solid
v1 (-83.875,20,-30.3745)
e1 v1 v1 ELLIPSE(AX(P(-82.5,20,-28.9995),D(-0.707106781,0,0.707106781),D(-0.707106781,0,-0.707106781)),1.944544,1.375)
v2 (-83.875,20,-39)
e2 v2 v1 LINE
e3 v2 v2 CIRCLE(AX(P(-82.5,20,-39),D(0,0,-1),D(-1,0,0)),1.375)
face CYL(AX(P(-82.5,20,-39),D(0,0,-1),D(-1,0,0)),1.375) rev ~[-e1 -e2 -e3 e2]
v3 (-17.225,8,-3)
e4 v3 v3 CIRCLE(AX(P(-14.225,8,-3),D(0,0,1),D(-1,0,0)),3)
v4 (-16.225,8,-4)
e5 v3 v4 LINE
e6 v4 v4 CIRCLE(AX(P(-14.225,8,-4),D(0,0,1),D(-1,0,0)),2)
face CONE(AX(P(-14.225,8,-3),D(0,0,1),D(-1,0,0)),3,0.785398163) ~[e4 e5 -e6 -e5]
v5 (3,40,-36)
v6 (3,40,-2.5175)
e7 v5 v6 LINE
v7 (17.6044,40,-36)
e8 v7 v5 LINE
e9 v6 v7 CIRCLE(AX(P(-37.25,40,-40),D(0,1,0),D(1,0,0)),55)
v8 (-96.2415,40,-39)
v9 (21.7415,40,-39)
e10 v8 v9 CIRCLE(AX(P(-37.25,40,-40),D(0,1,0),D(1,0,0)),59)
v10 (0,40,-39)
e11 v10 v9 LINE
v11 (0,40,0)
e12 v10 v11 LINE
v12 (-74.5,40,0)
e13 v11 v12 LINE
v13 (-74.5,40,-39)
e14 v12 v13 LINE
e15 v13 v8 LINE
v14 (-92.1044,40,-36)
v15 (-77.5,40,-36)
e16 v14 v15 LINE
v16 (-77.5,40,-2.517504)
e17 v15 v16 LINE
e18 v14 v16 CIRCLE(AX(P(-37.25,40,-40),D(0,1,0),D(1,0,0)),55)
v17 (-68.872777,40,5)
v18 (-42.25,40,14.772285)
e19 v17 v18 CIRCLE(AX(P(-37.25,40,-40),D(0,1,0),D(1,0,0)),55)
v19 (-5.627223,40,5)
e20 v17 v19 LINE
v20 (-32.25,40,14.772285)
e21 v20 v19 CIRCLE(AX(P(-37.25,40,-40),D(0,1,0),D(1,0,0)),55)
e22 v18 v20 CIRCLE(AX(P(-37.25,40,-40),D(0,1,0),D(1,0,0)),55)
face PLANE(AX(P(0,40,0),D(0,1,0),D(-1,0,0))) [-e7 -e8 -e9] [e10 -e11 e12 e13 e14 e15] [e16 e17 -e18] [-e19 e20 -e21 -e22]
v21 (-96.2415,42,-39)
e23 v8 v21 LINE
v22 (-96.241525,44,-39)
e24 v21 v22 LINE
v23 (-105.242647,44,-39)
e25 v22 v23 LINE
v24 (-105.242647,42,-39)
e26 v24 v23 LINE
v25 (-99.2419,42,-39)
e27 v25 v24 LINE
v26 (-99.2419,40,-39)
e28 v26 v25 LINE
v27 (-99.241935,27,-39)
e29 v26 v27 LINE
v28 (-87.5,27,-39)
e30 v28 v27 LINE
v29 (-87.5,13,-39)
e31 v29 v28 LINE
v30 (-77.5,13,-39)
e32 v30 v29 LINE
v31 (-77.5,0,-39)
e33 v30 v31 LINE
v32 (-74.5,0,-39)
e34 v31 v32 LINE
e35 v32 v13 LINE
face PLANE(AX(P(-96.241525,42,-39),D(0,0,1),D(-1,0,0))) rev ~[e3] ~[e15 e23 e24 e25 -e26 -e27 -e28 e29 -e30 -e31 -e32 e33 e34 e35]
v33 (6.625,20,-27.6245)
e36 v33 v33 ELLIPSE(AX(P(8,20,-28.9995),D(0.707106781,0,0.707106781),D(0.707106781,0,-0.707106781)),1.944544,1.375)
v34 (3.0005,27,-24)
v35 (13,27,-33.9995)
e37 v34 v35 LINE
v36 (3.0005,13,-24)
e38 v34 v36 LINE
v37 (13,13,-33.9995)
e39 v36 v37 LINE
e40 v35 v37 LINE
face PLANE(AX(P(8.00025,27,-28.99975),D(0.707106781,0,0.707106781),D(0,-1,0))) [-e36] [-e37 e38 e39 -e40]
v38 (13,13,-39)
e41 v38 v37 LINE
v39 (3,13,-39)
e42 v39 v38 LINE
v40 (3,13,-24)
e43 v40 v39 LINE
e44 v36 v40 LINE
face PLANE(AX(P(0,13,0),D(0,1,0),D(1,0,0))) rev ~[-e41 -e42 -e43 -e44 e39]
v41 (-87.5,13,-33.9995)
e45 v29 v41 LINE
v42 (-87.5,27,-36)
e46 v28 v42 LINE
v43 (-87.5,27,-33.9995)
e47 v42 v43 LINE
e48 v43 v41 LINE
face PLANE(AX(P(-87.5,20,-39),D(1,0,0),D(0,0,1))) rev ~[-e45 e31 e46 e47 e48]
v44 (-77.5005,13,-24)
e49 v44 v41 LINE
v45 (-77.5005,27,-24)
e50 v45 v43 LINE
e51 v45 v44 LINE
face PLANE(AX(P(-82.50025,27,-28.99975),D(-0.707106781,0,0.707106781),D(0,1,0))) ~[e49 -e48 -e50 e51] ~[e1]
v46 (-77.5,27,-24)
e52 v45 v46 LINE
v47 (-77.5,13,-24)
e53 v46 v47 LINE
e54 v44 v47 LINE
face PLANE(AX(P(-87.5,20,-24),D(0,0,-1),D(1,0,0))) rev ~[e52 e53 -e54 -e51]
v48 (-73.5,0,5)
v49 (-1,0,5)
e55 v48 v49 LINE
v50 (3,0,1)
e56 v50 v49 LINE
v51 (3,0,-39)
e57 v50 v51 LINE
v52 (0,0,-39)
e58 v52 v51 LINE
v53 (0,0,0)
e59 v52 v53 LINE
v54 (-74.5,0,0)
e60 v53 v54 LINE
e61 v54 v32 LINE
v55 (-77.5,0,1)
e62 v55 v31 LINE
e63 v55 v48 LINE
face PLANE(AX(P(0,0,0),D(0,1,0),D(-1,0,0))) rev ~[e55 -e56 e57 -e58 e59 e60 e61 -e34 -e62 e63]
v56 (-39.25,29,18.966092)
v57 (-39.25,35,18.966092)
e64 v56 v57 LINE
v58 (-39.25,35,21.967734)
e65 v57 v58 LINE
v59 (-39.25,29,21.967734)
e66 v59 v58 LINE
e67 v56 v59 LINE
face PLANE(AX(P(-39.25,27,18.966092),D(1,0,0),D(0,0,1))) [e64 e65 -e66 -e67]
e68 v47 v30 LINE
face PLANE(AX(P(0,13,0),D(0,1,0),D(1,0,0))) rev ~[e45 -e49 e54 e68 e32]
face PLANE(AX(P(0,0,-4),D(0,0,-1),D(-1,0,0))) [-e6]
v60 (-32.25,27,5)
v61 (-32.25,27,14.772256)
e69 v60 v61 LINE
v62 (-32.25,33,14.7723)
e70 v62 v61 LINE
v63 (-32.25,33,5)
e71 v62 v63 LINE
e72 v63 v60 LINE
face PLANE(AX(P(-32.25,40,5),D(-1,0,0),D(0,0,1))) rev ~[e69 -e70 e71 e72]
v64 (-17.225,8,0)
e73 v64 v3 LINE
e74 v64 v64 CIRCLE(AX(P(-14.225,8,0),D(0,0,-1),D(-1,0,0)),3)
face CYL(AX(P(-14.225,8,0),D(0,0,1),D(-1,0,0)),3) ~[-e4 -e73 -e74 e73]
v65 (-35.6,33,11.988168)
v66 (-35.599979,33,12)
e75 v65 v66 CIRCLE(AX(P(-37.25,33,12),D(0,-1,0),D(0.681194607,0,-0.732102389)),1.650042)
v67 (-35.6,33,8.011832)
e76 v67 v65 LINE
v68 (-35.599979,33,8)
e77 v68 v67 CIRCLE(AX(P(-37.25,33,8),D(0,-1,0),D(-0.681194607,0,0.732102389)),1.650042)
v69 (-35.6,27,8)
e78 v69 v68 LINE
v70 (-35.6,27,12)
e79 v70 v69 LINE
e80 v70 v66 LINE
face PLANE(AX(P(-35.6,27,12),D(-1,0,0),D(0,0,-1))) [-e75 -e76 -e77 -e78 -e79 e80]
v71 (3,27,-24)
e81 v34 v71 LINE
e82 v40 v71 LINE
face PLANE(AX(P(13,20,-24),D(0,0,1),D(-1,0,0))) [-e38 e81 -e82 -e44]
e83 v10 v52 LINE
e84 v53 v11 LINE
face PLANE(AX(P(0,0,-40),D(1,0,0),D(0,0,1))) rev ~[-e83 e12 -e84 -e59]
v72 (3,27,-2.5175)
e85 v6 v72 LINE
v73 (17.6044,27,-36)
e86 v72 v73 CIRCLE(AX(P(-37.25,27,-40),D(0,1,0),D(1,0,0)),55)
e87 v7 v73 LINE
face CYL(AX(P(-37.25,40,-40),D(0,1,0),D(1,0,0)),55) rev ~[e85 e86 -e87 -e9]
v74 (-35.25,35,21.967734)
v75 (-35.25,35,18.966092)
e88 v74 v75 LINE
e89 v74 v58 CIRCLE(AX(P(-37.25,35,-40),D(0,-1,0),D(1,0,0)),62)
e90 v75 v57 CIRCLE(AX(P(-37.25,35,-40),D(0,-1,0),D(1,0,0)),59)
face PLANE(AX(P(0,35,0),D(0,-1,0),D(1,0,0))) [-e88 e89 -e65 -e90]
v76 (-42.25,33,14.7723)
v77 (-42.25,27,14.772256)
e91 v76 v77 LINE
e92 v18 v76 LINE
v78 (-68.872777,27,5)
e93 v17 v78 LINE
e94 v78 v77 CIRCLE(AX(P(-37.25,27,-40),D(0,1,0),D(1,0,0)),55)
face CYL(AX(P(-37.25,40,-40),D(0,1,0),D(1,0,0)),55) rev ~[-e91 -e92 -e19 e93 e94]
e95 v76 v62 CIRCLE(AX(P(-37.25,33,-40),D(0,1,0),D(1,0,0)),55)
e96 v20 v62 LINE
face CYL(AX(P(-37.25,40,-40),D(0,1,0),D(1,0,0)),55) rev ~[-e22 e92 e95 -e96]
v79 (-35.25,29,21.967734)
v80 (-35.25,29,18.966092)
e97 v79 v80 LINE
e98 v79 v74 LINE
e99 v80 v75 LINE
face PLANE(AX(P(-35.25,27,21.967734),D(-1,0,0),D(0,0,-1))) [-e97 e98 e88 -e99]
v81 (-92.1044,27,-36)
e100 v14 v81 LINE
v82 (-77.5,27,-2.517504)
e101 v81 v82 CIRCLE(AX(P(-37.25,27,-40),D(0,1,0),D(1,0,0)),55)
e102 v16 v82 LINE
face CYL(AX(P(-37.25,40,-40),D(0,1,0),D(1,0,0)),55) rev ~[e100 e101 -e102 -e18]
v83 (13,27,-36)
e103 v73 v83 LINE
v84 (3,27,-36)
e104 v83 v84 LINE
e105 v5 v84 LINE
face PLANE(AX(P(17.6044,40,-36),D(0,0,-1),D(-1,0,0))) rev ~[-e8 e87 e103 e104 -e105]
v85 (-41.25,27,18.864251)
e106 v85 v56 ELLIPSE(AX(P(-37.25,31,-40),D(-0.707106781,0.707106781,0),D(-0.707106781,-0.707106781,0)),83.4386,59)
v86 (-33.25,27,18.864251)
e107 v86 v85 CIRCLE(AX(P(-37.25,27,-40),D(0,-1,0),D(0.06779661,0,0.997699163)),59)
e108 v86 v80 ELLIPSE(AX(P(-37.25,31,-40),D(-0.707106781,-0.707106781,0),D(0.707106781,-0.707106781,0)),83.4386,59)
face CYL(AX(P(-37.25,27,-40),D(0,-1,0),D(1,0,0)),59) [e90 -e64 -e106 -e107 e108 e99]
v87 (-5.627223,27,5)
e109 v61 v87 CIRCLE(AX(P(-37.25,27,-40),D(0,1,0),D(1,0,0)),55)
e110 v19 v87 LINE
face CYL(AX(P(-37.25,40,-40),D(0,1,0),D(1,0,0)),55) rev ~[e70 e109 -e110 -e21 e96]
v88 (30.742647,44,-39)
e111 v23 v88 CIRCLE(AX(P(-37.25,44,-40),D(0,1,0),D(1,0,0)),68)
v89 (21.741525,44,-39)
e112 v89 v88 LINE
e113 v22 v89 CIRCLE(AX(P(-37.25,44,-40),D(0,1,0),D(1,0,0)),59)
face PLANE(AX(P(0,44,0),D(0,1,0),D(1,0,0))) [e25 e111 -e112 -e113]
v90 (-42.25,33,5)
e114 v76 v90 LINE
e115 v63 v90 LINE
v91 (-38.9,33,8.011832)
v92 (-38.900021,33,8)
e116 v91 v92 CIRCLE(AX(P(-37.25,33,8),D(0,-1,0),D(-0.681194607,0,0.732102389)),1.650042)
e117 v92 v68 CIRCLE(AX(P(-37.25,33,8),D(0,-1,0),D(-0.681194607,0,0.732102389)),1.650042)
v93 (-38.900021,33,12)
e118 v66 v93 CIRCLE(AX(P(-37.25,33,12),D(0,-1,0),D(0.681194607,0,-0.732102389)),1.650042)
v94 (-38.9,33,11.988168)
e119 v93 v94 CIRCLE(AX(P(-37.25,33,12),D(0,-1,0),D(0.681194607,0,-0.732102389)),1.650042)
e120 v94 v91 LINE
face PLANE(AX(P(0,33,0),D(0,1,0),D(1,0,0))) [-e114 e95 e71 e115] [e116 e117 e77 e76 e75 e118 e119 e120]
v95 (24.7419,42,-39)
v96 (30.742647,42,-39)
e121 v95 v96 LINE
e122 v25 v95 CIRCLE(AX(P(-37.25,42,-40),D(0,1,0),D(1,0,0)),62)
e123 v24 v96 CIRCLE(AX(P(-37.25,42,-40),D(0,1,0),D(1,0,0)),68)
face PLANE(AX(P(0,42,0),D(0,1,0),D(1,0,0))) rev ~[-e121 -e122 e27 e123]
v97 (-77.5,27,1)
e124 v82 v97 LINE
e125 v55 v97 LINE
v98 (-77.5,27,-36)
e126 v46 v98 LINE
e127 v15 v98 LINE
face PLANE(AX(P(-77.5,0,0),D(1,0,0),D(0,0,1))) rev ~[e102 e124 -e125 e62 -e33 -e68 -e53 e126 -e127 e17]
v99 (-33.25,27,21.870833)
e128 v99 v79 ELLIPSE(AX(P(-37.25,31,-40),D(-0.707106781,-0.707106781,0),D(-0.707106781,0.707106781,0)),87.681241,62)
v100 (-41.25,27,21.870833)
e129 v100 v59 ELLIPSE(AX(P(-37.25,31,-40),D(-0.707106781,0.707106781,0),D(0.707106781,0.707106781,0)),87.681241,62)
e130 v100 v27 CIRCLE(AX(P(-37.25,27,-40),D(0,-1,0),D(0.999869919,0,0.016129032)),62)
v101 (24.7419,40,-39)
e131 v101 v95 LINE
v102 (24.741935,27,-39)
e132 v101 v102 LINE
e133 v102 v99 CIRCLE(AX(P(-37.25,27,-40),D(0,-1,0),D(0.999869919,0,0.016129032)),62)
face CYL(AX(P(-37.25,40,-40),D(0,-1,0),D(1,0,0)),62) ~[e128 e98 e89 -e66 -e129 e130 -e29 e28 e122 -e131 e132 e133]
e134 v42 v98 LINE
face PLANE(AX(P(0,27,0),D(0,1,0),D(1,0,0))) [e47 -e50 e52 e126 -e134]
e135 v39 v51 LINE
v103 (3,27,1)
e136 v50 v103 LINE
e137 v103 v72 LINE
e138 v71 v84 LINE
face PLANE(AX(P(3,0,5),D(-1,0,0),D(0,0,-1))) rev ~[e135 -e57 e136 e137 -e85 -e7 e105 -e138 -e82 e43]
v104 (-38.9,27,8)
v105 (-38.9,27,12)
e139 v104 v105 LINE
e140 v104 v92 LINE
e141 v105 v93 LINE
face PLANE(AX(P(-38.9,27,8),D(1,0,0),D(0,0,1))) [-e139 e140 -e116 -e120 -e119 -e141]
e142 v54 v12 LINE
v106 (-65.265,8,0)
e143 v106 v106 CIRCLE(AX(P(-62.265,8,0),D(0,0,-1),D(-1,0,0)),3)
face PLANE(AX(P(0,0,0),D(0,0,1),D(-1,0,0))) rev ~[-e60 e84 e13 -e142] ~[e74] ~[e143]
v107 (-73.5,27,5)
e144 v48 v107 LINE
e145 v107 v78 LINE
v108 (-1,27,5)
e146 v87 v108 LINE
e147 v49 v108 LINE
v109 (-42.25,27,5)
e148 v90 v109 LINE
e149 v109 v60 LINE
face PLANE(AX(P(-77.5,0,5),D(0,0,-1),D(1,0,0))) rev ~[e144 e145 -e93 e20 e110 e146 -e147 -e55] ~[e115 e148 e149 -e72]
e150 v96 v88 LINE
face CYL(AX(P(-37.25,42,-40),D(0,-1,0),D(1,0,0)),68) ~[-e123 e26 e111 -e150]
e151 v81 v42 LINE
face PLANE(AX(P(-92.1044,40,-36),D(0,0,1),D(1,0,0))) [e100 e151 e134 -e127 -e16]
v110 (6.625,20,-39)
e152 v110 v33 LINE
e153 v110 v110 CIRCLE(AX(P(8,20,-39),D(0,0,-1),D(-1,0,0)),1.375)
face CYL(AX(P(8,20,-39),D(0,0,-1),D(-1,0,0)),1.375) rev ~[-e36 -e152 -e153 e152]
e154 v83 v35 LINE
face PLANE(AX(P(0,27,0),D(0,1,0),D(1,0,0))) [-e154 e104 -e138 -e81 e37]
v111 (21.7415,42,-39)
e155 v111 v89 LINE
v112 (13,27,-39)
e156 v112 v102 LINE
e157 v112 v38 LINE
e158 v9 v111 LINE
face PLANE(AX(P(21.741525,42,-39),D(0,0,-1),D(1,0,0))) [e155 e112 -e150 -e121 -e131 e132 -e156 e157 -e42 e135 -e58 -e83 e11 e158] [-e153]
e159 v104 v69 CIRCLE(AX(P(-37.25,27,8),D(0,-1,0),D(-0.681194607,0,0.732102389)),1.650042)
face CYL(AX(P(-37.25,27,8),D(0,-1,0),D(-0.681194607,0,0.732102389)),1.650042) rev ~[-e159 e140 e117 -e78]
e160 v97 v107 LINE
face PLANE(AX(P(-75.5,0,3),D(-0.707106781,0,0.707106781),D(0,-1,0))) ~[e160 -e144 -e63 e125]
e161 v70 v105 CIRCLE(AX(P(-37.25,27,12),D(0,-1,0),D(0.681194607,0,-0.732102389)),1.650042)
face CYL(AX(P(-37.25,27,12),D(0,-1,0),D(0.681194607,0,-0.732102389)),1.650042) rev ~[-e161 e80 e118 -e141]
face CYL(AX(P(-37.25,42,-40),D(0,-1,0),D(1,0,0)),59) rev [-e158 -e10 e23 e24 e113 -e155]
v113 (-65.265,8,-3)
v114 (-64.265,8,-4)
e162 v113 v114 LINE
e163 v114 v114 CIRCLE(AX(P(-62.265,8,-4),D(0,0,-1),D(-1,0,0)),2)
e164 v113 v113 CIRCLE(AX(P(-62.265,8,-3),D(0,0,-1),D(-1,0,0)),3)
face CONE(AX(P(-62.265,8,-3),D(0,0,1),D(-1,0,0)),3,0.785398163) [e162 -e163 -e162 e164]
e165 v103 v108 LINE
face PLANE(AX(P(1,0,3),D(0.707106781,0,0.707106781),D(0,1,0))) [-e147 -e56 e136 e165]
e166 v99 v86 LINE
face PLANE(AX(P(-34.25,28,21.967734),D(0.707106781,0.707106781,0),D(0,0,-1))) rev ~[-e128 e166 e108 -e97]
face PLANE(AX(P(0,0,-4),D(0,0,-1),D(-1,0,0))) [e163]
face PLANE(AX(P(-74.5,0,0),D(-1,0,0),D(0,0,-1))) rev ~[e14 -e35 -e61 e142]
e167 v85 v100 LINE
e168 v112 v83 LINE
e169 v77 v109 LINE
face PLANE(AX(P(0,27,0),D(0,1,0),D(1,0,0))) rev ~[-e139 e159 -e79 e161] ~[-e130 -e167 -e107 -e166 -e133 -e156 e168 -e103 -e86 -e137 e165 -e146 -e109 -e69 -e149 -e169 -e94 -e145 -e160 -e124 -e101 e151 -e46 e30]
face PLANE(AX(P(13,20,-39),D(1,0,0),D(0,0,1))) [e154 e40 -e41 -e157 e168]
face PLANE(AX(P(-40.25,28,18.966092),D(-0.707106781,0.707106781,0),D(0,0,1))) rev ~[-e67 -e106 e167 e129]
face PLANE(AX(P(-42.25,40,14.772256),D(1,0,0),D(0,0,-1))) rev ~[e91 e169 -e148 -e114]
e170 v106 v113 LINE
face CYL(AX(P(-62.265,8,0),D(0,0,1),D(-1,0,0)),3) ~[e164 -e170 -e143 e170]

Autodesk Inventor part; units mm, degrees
ref_plane "YZ Plane" through (0, 0, 0) normal (1, 0, 0) x (0, 1, 0)
ref_plane "XZ Plane" through (0, 0, 0) normal (0, 1, 0) x (-1, 0, 0)
sketch "Sketch1" plane through (0, 0, 0) normal (0, 1, 0) x (-1, 0, 0)
  line L0 (0, 0) -> (74.5, 0)
  line L1 (74.5, 0) -> (74.5, -40)
  line L2 (74.5, -40) -> (0, -40)
  line L3 (0, -40) -> (0, 0)
  line L4 (74.5, -40) -> (77.5, -40)
  line L5 (77.5, -40) -> (77.5, 0)
  line L6 (77.5, 0) -> (74.5, 0)
  line L7 (74.5, 0) -> (74.5, -40)
  line L8 (0, -40) -> (-3, -40)
  line L9 (-3, -40) -> (-3, 0)
  line L10 (-3, 0) -> (0, 0)
  line L11 (0, 0) -> (0, -40)
  line L12 (-3, 0) -> (77.5, 0)
  line L13 (77.5, 0) -> (77.5, 5)
  line L14 (77.5, 5) -> (-3, 5)
  line L15 (-3, 5) -> (-3, 0)
  dimension "d0" = 74.5
  dimension "d1" = 40
  dimension "d2" = 3
  dimension "d3" = 3
  dimension "d4" = 40
  dimension "d5" = 80.5
  dimension "d6" = 5
extrude "Extrusion1" add sketch "Sketch1" along normal blind 40 contours L10 L15 L14 L13 L6 L0 | L3 L8 L9 L10 | L6 L5 L4 L1
sketch "Sketch3" plane through (0, 0, 0) normal (0, 0, -1) x (-1, 0, 0)
  line L0 (0, 0) -> (14.225, 0)
  line L1 (0, 0) -> (74.5, 0) projected
  line L2 (14.225, 0) -> (14.225, 8)
  circle A0 centre (14.225, 8) radius 3
  line L3 (37.25, 0) -> (37.25, 20.4526)
  line L4 (74.5, 0) -> (74.5, 40) projected
  line L5 (74.5, 0) -> (74.5, 8)
  line L6 (74.5, 8) -> (62.265, 8)
  line L7 (74.5, 8) -> (86.735, 8) construction
  circle A1 centre (62.265, 8) radius 3
  dimension "d9" = 14.225
  dimension "d10" = 8
  dimension "d11" = 6
  dimension "d12" = 8
  dimension "d13" = 12.235
  dimension "d14" = 180
  dimension "d15" = 6
extrude "Extrusion2" add sketch "Sketch3" along normal blind 4
chamfer "Chamfer1" distance 1 angle 45 2 edges at (-11.225, 8, -4) (-59.265, 8, -4)
sketch "Sketch4" plane through (0, 40, 0) normal (0, 1, 0) x (1, 0, 0)
  line L0 (3, -5) -> (3, 40) projected
  line L1 (-77.5, 40) -> (-77.5, -5) projected
  line L2 (3, 40) -> (-77.5, 40)
  line L3 (-77.5, 40) -> (-77.5, 39)
  line L4 (-77.5, 39) -> (3, 39)
  line L5 (3, 39) -> (3, 40)
  point P0 (0, 0)
  dimension "d21" = 1
extrude "Extrusion3" cut sketch "Sketch4" against normal blind 40
ref_plane "Work Plane1" through (0, 20, 0) normal (0, 1, 0) x (1, 0, 0)
sketch "Sketch6" plane through (0, 20, 0) normal (0, 1, 0) x (1, 0, 0)
  line L0 (0, 39) -> (3, 39) projected
  line L1 (3, 39) -> (13, 39)
  line L2 (13, 39) -> (13, 24)
  line L3 (13, 24) -> (3, 24)
  line L4 (3, 24) -> (3, 39)
  line L5 (0, 0) -> (-74.5, 0) projected
  line L6 (-37.25, 0) -> (-37.25, 6.791)
  line L7 (-74.5, 39) -> (-77.5, 39)
  line L8 (-77.5, 39) -> (-87.5, 39)
  line L9 (-87.5, 39) -> (-87.5, 24)
  line L10 (-87.5, 24) -> (-77.5, 24)
  line L11 (-77.5, 24) -> (-77.5, 39)
  dimension "d24" = 10
  dimension "d25" = 15
extrude "Extrusion4" add sketch "Sketch6" along normal mid plane 14
chamfer "Chamfer2" distance 10 angle 45 1 edges at (-87.5, 20, -24)
chamfer "Chamfer3" distance 10 angle 45 1 edges at (13, 20, -24)
sketch "Sketch7" plane through (-74.5, 40, -39) normal (0, 0, -1) x (-1, 0, 0)
  line L0 (13, -27) -> (13, -13) projected
  line L1 (3, -13) -> (13, -13) projected
  line L2 (13, -13) -> (3, -13)
  line L3 (13, -13) -> (13, -27)
  line L4 (13, -20) -> (8, -20)
  circle A0 centre (8, -20) radius 1.375
  line L5 (-74.5, 0) -> (0, 0) projected
  line L6 (-37.25, 0) -> (-37.25, -5.3996)
  circle A1 centre (-82.5, -20) radius 1.375
  point P0 (-74.5, -40)
  dimension "d34" = 5
  dimension "d35" = 2.75
extrude "Extrusion5" cut sketch "Sketch7" against normal blind 14
sketch "Sketch9" plane through (0, 40, 0) normal (0, 1, 0) x (1, 0, 0)
  line L0 (-77.5, 39) -> (-77.5, -5) projected
  line L1 (13, 39) -> (3, 39) projected
  line L2 (-77.5, -5) -> (3, -5)
  line L3 (3, 39) -> (-77.5, 39)
  line L4 (-77.5, 39) -> (-77.5, -5)
  line L5 (-37.25, 39) -> (-37.25, 40)
  line L6 (-37.25, 39) -> (-36.25, 39) construction
  circle A0 centre (-37.25, 40) radius 62
  circle A1 centre (-37.25, 40) radius 55
  line L7 (-37.25, 40) -> (-42.25, 40)
  line L8 (-42.25, 40) -> (-32.25, 40)
  line L9 (-32.25, 40) -> (-32.25, -25)
  line L10 (-32.25, -25) -> (-42.25, -25)
  line L11 (-42.25, -25) -> (-42.25, 40)
  line L12 (-37.25, 39) -> (-127.25, 39)
  line L13 (-37.25, 39) -> (52.75, 39) construction
  line L14 (-127.25, 39) -> (47.7384, 39)
  line L15 (-77.5, 39) -> (-77.5, 24) projected
  line L16 (-77.5, 39) -> (-93.5, 39)
  line L17 (-93.5, 39) -> (-93.5, 36)
  line L18 (-92.1044, 36) -> (-77.5, 36)
  line L19 (-77.5, 36) -> (-77.5, 39)
  line L20 (3, -5) -> (3, 39) projected
  line L21 (3, 39) -> (19, 39)
  line L22 (19, 39) -> (19, 36)
  line L23 (17.6044, 36) -> (3, 36)
  line L24 (3, 36) -> (3, 39)
  line L25 (3, 39) -> (19, 39)
  line L26 (19, 39) -> (19, 36)
  line L27 (17.6044, 36) -> (3, 36)
  line L28 (3, 36) -> (3, 39)
  line L29 (3, -5) -> (3, 2.5175)
  line L30 (3, 36) -> (3, 39)
  point P0 (0, 0)
  point P1 (3, 2.5175)
  point P2 (-5.6272, -5)
  point P3 (-32.25, -14.7723)
  point P4 (-32.25, -5)
  point P5 (-42.25, -5)
  point P6 (-42.25, -14.7723)
  point P7 (-68.8728, -5)
  point P8 (-77.5, 2.5175)
  point P9 (-99.2419, 39)
  point P10 (24.7419, 39)
  dimension "d38" = 1
  dimension "d39" = 90
  dimension "d40" = 124
  dimension "d41" = 110
  dimension "d42" = 5
  dimension "d43" = 10
  dimension "d44" = 65
  dimension "d45" = 90
  dimension "d46" = 180
  dimension "d47" = 16
  dimension "d48" = 3
  dimension "d49" = 16
  dimension "d50" = 3
extrude "Extrusion6" add sketch "Sketch9" against normal blind 13 contours L0 L18 A1 L12 | A1 L0 L2 L11 A0 L12 | L2 L9 A1 L11 | A1 L9 A0 L11 | L14 A0 L9 A1 L2 L20 | A1 L23 L20 L1 L14
sketch "Sketch10" plane through (0, 40, 0) normal (0, 1, 0) x (1, 0, 0)
  arc A0 (-99.2419, 39) -> (24.7419, 39) centre (-37.25, 40) ccw projected
  line L0 (-37.25, -22) -> (-37.25, -10)
  circle A1 centre (-37.25, -10) radius 1.375
  point P0 (0, 0)
  dimension "d53" = 12
  dimension "d54" = 2.75
extrude "Extrusion7" cut sketch "Sketch10" against normal blind 13
sketch "Sketch11" plane through (0, 27, 0) normal (0, -1, 0) x (1, 0, 0)
  circle A0 centre (-37.25, 10) radius 1.375 projected
  line L0 (-37.25, 10) -> (-37.25, 12)
  line L1 (-37.25, 12) -> (-37.25, 8)
  arc A1 (-38.374, 9.208) -> (-36.126, 9.208) centre (-37.25, 8) ccw
  arc A2 (-36.126, 10.792) -> (-38.374, 10.792) centre (-37.25, 12) ccw
  line L2 (-38.9, 12) -> (-38.9, 8)
  line L3 (-35.6, 8) -> (-35.6, 12)
  point P0 (0, 0)
  point P1 (-38.625, 10.25)
  point P2 (-35.875, 10.25)
  dimension "d57" = 2
  dimension "d58" = 4
  dimension "d59" = 3.3
  dimension "d60" = 3.3
extrude "Extrusion8" cut sketch "Sketch11" against normal blind 13 contours A0 A2 | A1 A0
sketch "Sketch12" plane through (0, 27, 0) normal (0, -1, 0) x (1, 0, 0)
  point P0 (0, 0)
sketch "Sketch13" plane through (0, 40, 0) normal (0, 1, 0) x (1, 0, 0)
  arc A0 (-99.2419, 39) -> (24.7419, 39) centre (-37.25, 40) ccw projected
  circle A1 centre (-37.25, 40) radius 62.25
  line L0 (-42.25, -14.7723) -> (-42.25, -5) projected
  circle A2 centre (-37.25, 40) radius 55
  line L1 (-32.25, -5) -> (-42.25, -5) projected
  line L2 (-32.25, -14.7723) -> (-32.25, -5) projected
  line L3 (-42.25, -5) -> (-32.25, -5)
  line L4 (-32.25, -5) -> (-32.25, -14.7723)
  line L5 (-42.25, -14.7723) -> (-42.25, -5)
  point P0 (0, 0)
extrude "Extrusion9" cut sketch "Sketch13" against normal blind 7 contours L0 L1 L2 A2 picked at (-36.6938, -8.3249)
sketch "Sketch14" plane through (0, 27, 0) normal (0, -1, 0) x (1, 0, 0)
  arc A0 (-36.126, 10.792) -> (-38.374, 10.792) centre (-37.25, 12) ccw projected
  arc A1 (-35.6, 12) -> (-38.9, 12) centre (-37.25, 12) ccw
  arc A2 (-38.374, 9.208) -> (-36.126, 9.208) centre (-37.25, 8) ccw projected
  arc A3 (-38.9, 8) -> (-35.6, 8) centre (-37.25, 8) ccw
  line L0 (-35.6, 12) -> (-35.6, 8)
  line L1 (-38.9, 8) -> (-38.9, 12)
  point P0 (0, 0)
extrude "Extrusion10" cut sketch "Sketch14" against normal blind 10
sketch "Sketch15" plane through (0, 27, 0) normal (0, -1, 0) x (1, 0, 0)
  arc A0 (-5.6272, 5) -> (-68.8728, 5) centre (-37.25, -40) ccw projected
  line L0 (-42.25, 14.7723) -> (-42.25, 5) projected
  circle A1 centre (-37.25, -40) radius 55
  circle A2 centre (-37.25, -40) radius 62
  circle A3 centre (-37.25, -40) radius 59
  line L1 (-37.25, -40) -> (-35.25, -40)
  line L2 (-35.25, -40) -> (-39.25, -40)
  line L3 (-39.25, -40) -> (-39.25, 33.7225)
  line L4 (-39.25, 33.7225) -> (-35.25, 33.7225)
  line L5 (-35.25, 33.7225) -> (-35.25, -40)
  line L6 (-39.25, 33.7225) -> (-35.25, 33.7225)
  line L7 (-35.25, 33.7225) -> (-35.25, -40)
  line L8 (-35.25, -40) -> (-39.25, -40)
  line L9 (-39.25, -40) -> (-39.25, 33.7225)
  point P0 (0, 0)
  point P1 (-39.25, 21.9677)
  point P2 (-39.25, 18.9661)
  point P3 (-35.25, 18.9661)
  point P4 (-35.25, 21.9677)
  dimension "d67" = 118
  dimension "d68" = 2
  dimension "d69" = 4
extrude "Extrusion11" cut sketch "Sketch15" against normal blind 8 contours L3 A2 L5 A3 picked at (-35.6944, 19.9767)
chamfer "Chamfer4" distance 2 angle 45 2 edges at (-35.25, 27, 20.4669) (-39.25, 27, 20.4669)
sketch "Sketch16" plane through (0, 40, 0) normal (0, 1, 0) x (1, 0, 0)
  arc A0 (3, 2.5175) -> (17.6044, 36) centre (-37.25, 40) ccw projected
  circle A1 centre (-37.25, 40) radius 59
  circle A2 centre (-37.25, 40) radius 62
  line L0 (24.7419, 39) -> (0, 39) projected
  line L1 (24.7419, 39) -> (21.7415, 39)
  arc A3 (-99.2419, 39) -> (24.7419, 39) centre (-37.25, 40) ccw projected
  line L2 (-99.2419, 39) -> (-96.2415, 39)
  line L3 (-74.5, 39) -> (-99.2419, 39) projected
  point P0 (0, 0)
  dimension "d75" = 118
extrude "Extrusion12" add sketch "Sketch16" along normal blind 2 contours A1 L0 A2 L2 picked at (-37.25, -19.8358)
sketch "Sketch17" plane through (0, 42, 0) normal (0, 1, 0) x (1, 0, 0)
  arc A0 (-68.8728, -5) -> (-5.6272, -5) centre (-37.25, 40) ccw projected
  circle A1 centre (-37.25, 40) radius 59
  circle A2 centre (-37.25, 40) radius 68
  line L0 (3, 39) -> (13, 39) projected
  line L1 (13, 39) -> (38.5571, 39)
  line L2 (13, 39) -> (24.7419, 39) projected
  line L3 (38.5571, 39) -> (-112.8273, 39)
  point P0 (0, 0)
  point P1 (-96.2415, 39)
  point P2 (-105.2426, 39)
  point P3 (30.7426, 39)
  point P4 (21.7415, 39)
  dimension "d78" = 136
extrude "Extrusion13" add sketch "Sketch17" along normal blind 2 contours A1 L1 A2 L3 picked at (-35.4549, -24.766)
chamfer "Chamfer5" distance 4 angle 45 2 edges at (3, 13.5, 5) (-77.5, 13.5, 5)
properties part number "gripper_mount_female"
